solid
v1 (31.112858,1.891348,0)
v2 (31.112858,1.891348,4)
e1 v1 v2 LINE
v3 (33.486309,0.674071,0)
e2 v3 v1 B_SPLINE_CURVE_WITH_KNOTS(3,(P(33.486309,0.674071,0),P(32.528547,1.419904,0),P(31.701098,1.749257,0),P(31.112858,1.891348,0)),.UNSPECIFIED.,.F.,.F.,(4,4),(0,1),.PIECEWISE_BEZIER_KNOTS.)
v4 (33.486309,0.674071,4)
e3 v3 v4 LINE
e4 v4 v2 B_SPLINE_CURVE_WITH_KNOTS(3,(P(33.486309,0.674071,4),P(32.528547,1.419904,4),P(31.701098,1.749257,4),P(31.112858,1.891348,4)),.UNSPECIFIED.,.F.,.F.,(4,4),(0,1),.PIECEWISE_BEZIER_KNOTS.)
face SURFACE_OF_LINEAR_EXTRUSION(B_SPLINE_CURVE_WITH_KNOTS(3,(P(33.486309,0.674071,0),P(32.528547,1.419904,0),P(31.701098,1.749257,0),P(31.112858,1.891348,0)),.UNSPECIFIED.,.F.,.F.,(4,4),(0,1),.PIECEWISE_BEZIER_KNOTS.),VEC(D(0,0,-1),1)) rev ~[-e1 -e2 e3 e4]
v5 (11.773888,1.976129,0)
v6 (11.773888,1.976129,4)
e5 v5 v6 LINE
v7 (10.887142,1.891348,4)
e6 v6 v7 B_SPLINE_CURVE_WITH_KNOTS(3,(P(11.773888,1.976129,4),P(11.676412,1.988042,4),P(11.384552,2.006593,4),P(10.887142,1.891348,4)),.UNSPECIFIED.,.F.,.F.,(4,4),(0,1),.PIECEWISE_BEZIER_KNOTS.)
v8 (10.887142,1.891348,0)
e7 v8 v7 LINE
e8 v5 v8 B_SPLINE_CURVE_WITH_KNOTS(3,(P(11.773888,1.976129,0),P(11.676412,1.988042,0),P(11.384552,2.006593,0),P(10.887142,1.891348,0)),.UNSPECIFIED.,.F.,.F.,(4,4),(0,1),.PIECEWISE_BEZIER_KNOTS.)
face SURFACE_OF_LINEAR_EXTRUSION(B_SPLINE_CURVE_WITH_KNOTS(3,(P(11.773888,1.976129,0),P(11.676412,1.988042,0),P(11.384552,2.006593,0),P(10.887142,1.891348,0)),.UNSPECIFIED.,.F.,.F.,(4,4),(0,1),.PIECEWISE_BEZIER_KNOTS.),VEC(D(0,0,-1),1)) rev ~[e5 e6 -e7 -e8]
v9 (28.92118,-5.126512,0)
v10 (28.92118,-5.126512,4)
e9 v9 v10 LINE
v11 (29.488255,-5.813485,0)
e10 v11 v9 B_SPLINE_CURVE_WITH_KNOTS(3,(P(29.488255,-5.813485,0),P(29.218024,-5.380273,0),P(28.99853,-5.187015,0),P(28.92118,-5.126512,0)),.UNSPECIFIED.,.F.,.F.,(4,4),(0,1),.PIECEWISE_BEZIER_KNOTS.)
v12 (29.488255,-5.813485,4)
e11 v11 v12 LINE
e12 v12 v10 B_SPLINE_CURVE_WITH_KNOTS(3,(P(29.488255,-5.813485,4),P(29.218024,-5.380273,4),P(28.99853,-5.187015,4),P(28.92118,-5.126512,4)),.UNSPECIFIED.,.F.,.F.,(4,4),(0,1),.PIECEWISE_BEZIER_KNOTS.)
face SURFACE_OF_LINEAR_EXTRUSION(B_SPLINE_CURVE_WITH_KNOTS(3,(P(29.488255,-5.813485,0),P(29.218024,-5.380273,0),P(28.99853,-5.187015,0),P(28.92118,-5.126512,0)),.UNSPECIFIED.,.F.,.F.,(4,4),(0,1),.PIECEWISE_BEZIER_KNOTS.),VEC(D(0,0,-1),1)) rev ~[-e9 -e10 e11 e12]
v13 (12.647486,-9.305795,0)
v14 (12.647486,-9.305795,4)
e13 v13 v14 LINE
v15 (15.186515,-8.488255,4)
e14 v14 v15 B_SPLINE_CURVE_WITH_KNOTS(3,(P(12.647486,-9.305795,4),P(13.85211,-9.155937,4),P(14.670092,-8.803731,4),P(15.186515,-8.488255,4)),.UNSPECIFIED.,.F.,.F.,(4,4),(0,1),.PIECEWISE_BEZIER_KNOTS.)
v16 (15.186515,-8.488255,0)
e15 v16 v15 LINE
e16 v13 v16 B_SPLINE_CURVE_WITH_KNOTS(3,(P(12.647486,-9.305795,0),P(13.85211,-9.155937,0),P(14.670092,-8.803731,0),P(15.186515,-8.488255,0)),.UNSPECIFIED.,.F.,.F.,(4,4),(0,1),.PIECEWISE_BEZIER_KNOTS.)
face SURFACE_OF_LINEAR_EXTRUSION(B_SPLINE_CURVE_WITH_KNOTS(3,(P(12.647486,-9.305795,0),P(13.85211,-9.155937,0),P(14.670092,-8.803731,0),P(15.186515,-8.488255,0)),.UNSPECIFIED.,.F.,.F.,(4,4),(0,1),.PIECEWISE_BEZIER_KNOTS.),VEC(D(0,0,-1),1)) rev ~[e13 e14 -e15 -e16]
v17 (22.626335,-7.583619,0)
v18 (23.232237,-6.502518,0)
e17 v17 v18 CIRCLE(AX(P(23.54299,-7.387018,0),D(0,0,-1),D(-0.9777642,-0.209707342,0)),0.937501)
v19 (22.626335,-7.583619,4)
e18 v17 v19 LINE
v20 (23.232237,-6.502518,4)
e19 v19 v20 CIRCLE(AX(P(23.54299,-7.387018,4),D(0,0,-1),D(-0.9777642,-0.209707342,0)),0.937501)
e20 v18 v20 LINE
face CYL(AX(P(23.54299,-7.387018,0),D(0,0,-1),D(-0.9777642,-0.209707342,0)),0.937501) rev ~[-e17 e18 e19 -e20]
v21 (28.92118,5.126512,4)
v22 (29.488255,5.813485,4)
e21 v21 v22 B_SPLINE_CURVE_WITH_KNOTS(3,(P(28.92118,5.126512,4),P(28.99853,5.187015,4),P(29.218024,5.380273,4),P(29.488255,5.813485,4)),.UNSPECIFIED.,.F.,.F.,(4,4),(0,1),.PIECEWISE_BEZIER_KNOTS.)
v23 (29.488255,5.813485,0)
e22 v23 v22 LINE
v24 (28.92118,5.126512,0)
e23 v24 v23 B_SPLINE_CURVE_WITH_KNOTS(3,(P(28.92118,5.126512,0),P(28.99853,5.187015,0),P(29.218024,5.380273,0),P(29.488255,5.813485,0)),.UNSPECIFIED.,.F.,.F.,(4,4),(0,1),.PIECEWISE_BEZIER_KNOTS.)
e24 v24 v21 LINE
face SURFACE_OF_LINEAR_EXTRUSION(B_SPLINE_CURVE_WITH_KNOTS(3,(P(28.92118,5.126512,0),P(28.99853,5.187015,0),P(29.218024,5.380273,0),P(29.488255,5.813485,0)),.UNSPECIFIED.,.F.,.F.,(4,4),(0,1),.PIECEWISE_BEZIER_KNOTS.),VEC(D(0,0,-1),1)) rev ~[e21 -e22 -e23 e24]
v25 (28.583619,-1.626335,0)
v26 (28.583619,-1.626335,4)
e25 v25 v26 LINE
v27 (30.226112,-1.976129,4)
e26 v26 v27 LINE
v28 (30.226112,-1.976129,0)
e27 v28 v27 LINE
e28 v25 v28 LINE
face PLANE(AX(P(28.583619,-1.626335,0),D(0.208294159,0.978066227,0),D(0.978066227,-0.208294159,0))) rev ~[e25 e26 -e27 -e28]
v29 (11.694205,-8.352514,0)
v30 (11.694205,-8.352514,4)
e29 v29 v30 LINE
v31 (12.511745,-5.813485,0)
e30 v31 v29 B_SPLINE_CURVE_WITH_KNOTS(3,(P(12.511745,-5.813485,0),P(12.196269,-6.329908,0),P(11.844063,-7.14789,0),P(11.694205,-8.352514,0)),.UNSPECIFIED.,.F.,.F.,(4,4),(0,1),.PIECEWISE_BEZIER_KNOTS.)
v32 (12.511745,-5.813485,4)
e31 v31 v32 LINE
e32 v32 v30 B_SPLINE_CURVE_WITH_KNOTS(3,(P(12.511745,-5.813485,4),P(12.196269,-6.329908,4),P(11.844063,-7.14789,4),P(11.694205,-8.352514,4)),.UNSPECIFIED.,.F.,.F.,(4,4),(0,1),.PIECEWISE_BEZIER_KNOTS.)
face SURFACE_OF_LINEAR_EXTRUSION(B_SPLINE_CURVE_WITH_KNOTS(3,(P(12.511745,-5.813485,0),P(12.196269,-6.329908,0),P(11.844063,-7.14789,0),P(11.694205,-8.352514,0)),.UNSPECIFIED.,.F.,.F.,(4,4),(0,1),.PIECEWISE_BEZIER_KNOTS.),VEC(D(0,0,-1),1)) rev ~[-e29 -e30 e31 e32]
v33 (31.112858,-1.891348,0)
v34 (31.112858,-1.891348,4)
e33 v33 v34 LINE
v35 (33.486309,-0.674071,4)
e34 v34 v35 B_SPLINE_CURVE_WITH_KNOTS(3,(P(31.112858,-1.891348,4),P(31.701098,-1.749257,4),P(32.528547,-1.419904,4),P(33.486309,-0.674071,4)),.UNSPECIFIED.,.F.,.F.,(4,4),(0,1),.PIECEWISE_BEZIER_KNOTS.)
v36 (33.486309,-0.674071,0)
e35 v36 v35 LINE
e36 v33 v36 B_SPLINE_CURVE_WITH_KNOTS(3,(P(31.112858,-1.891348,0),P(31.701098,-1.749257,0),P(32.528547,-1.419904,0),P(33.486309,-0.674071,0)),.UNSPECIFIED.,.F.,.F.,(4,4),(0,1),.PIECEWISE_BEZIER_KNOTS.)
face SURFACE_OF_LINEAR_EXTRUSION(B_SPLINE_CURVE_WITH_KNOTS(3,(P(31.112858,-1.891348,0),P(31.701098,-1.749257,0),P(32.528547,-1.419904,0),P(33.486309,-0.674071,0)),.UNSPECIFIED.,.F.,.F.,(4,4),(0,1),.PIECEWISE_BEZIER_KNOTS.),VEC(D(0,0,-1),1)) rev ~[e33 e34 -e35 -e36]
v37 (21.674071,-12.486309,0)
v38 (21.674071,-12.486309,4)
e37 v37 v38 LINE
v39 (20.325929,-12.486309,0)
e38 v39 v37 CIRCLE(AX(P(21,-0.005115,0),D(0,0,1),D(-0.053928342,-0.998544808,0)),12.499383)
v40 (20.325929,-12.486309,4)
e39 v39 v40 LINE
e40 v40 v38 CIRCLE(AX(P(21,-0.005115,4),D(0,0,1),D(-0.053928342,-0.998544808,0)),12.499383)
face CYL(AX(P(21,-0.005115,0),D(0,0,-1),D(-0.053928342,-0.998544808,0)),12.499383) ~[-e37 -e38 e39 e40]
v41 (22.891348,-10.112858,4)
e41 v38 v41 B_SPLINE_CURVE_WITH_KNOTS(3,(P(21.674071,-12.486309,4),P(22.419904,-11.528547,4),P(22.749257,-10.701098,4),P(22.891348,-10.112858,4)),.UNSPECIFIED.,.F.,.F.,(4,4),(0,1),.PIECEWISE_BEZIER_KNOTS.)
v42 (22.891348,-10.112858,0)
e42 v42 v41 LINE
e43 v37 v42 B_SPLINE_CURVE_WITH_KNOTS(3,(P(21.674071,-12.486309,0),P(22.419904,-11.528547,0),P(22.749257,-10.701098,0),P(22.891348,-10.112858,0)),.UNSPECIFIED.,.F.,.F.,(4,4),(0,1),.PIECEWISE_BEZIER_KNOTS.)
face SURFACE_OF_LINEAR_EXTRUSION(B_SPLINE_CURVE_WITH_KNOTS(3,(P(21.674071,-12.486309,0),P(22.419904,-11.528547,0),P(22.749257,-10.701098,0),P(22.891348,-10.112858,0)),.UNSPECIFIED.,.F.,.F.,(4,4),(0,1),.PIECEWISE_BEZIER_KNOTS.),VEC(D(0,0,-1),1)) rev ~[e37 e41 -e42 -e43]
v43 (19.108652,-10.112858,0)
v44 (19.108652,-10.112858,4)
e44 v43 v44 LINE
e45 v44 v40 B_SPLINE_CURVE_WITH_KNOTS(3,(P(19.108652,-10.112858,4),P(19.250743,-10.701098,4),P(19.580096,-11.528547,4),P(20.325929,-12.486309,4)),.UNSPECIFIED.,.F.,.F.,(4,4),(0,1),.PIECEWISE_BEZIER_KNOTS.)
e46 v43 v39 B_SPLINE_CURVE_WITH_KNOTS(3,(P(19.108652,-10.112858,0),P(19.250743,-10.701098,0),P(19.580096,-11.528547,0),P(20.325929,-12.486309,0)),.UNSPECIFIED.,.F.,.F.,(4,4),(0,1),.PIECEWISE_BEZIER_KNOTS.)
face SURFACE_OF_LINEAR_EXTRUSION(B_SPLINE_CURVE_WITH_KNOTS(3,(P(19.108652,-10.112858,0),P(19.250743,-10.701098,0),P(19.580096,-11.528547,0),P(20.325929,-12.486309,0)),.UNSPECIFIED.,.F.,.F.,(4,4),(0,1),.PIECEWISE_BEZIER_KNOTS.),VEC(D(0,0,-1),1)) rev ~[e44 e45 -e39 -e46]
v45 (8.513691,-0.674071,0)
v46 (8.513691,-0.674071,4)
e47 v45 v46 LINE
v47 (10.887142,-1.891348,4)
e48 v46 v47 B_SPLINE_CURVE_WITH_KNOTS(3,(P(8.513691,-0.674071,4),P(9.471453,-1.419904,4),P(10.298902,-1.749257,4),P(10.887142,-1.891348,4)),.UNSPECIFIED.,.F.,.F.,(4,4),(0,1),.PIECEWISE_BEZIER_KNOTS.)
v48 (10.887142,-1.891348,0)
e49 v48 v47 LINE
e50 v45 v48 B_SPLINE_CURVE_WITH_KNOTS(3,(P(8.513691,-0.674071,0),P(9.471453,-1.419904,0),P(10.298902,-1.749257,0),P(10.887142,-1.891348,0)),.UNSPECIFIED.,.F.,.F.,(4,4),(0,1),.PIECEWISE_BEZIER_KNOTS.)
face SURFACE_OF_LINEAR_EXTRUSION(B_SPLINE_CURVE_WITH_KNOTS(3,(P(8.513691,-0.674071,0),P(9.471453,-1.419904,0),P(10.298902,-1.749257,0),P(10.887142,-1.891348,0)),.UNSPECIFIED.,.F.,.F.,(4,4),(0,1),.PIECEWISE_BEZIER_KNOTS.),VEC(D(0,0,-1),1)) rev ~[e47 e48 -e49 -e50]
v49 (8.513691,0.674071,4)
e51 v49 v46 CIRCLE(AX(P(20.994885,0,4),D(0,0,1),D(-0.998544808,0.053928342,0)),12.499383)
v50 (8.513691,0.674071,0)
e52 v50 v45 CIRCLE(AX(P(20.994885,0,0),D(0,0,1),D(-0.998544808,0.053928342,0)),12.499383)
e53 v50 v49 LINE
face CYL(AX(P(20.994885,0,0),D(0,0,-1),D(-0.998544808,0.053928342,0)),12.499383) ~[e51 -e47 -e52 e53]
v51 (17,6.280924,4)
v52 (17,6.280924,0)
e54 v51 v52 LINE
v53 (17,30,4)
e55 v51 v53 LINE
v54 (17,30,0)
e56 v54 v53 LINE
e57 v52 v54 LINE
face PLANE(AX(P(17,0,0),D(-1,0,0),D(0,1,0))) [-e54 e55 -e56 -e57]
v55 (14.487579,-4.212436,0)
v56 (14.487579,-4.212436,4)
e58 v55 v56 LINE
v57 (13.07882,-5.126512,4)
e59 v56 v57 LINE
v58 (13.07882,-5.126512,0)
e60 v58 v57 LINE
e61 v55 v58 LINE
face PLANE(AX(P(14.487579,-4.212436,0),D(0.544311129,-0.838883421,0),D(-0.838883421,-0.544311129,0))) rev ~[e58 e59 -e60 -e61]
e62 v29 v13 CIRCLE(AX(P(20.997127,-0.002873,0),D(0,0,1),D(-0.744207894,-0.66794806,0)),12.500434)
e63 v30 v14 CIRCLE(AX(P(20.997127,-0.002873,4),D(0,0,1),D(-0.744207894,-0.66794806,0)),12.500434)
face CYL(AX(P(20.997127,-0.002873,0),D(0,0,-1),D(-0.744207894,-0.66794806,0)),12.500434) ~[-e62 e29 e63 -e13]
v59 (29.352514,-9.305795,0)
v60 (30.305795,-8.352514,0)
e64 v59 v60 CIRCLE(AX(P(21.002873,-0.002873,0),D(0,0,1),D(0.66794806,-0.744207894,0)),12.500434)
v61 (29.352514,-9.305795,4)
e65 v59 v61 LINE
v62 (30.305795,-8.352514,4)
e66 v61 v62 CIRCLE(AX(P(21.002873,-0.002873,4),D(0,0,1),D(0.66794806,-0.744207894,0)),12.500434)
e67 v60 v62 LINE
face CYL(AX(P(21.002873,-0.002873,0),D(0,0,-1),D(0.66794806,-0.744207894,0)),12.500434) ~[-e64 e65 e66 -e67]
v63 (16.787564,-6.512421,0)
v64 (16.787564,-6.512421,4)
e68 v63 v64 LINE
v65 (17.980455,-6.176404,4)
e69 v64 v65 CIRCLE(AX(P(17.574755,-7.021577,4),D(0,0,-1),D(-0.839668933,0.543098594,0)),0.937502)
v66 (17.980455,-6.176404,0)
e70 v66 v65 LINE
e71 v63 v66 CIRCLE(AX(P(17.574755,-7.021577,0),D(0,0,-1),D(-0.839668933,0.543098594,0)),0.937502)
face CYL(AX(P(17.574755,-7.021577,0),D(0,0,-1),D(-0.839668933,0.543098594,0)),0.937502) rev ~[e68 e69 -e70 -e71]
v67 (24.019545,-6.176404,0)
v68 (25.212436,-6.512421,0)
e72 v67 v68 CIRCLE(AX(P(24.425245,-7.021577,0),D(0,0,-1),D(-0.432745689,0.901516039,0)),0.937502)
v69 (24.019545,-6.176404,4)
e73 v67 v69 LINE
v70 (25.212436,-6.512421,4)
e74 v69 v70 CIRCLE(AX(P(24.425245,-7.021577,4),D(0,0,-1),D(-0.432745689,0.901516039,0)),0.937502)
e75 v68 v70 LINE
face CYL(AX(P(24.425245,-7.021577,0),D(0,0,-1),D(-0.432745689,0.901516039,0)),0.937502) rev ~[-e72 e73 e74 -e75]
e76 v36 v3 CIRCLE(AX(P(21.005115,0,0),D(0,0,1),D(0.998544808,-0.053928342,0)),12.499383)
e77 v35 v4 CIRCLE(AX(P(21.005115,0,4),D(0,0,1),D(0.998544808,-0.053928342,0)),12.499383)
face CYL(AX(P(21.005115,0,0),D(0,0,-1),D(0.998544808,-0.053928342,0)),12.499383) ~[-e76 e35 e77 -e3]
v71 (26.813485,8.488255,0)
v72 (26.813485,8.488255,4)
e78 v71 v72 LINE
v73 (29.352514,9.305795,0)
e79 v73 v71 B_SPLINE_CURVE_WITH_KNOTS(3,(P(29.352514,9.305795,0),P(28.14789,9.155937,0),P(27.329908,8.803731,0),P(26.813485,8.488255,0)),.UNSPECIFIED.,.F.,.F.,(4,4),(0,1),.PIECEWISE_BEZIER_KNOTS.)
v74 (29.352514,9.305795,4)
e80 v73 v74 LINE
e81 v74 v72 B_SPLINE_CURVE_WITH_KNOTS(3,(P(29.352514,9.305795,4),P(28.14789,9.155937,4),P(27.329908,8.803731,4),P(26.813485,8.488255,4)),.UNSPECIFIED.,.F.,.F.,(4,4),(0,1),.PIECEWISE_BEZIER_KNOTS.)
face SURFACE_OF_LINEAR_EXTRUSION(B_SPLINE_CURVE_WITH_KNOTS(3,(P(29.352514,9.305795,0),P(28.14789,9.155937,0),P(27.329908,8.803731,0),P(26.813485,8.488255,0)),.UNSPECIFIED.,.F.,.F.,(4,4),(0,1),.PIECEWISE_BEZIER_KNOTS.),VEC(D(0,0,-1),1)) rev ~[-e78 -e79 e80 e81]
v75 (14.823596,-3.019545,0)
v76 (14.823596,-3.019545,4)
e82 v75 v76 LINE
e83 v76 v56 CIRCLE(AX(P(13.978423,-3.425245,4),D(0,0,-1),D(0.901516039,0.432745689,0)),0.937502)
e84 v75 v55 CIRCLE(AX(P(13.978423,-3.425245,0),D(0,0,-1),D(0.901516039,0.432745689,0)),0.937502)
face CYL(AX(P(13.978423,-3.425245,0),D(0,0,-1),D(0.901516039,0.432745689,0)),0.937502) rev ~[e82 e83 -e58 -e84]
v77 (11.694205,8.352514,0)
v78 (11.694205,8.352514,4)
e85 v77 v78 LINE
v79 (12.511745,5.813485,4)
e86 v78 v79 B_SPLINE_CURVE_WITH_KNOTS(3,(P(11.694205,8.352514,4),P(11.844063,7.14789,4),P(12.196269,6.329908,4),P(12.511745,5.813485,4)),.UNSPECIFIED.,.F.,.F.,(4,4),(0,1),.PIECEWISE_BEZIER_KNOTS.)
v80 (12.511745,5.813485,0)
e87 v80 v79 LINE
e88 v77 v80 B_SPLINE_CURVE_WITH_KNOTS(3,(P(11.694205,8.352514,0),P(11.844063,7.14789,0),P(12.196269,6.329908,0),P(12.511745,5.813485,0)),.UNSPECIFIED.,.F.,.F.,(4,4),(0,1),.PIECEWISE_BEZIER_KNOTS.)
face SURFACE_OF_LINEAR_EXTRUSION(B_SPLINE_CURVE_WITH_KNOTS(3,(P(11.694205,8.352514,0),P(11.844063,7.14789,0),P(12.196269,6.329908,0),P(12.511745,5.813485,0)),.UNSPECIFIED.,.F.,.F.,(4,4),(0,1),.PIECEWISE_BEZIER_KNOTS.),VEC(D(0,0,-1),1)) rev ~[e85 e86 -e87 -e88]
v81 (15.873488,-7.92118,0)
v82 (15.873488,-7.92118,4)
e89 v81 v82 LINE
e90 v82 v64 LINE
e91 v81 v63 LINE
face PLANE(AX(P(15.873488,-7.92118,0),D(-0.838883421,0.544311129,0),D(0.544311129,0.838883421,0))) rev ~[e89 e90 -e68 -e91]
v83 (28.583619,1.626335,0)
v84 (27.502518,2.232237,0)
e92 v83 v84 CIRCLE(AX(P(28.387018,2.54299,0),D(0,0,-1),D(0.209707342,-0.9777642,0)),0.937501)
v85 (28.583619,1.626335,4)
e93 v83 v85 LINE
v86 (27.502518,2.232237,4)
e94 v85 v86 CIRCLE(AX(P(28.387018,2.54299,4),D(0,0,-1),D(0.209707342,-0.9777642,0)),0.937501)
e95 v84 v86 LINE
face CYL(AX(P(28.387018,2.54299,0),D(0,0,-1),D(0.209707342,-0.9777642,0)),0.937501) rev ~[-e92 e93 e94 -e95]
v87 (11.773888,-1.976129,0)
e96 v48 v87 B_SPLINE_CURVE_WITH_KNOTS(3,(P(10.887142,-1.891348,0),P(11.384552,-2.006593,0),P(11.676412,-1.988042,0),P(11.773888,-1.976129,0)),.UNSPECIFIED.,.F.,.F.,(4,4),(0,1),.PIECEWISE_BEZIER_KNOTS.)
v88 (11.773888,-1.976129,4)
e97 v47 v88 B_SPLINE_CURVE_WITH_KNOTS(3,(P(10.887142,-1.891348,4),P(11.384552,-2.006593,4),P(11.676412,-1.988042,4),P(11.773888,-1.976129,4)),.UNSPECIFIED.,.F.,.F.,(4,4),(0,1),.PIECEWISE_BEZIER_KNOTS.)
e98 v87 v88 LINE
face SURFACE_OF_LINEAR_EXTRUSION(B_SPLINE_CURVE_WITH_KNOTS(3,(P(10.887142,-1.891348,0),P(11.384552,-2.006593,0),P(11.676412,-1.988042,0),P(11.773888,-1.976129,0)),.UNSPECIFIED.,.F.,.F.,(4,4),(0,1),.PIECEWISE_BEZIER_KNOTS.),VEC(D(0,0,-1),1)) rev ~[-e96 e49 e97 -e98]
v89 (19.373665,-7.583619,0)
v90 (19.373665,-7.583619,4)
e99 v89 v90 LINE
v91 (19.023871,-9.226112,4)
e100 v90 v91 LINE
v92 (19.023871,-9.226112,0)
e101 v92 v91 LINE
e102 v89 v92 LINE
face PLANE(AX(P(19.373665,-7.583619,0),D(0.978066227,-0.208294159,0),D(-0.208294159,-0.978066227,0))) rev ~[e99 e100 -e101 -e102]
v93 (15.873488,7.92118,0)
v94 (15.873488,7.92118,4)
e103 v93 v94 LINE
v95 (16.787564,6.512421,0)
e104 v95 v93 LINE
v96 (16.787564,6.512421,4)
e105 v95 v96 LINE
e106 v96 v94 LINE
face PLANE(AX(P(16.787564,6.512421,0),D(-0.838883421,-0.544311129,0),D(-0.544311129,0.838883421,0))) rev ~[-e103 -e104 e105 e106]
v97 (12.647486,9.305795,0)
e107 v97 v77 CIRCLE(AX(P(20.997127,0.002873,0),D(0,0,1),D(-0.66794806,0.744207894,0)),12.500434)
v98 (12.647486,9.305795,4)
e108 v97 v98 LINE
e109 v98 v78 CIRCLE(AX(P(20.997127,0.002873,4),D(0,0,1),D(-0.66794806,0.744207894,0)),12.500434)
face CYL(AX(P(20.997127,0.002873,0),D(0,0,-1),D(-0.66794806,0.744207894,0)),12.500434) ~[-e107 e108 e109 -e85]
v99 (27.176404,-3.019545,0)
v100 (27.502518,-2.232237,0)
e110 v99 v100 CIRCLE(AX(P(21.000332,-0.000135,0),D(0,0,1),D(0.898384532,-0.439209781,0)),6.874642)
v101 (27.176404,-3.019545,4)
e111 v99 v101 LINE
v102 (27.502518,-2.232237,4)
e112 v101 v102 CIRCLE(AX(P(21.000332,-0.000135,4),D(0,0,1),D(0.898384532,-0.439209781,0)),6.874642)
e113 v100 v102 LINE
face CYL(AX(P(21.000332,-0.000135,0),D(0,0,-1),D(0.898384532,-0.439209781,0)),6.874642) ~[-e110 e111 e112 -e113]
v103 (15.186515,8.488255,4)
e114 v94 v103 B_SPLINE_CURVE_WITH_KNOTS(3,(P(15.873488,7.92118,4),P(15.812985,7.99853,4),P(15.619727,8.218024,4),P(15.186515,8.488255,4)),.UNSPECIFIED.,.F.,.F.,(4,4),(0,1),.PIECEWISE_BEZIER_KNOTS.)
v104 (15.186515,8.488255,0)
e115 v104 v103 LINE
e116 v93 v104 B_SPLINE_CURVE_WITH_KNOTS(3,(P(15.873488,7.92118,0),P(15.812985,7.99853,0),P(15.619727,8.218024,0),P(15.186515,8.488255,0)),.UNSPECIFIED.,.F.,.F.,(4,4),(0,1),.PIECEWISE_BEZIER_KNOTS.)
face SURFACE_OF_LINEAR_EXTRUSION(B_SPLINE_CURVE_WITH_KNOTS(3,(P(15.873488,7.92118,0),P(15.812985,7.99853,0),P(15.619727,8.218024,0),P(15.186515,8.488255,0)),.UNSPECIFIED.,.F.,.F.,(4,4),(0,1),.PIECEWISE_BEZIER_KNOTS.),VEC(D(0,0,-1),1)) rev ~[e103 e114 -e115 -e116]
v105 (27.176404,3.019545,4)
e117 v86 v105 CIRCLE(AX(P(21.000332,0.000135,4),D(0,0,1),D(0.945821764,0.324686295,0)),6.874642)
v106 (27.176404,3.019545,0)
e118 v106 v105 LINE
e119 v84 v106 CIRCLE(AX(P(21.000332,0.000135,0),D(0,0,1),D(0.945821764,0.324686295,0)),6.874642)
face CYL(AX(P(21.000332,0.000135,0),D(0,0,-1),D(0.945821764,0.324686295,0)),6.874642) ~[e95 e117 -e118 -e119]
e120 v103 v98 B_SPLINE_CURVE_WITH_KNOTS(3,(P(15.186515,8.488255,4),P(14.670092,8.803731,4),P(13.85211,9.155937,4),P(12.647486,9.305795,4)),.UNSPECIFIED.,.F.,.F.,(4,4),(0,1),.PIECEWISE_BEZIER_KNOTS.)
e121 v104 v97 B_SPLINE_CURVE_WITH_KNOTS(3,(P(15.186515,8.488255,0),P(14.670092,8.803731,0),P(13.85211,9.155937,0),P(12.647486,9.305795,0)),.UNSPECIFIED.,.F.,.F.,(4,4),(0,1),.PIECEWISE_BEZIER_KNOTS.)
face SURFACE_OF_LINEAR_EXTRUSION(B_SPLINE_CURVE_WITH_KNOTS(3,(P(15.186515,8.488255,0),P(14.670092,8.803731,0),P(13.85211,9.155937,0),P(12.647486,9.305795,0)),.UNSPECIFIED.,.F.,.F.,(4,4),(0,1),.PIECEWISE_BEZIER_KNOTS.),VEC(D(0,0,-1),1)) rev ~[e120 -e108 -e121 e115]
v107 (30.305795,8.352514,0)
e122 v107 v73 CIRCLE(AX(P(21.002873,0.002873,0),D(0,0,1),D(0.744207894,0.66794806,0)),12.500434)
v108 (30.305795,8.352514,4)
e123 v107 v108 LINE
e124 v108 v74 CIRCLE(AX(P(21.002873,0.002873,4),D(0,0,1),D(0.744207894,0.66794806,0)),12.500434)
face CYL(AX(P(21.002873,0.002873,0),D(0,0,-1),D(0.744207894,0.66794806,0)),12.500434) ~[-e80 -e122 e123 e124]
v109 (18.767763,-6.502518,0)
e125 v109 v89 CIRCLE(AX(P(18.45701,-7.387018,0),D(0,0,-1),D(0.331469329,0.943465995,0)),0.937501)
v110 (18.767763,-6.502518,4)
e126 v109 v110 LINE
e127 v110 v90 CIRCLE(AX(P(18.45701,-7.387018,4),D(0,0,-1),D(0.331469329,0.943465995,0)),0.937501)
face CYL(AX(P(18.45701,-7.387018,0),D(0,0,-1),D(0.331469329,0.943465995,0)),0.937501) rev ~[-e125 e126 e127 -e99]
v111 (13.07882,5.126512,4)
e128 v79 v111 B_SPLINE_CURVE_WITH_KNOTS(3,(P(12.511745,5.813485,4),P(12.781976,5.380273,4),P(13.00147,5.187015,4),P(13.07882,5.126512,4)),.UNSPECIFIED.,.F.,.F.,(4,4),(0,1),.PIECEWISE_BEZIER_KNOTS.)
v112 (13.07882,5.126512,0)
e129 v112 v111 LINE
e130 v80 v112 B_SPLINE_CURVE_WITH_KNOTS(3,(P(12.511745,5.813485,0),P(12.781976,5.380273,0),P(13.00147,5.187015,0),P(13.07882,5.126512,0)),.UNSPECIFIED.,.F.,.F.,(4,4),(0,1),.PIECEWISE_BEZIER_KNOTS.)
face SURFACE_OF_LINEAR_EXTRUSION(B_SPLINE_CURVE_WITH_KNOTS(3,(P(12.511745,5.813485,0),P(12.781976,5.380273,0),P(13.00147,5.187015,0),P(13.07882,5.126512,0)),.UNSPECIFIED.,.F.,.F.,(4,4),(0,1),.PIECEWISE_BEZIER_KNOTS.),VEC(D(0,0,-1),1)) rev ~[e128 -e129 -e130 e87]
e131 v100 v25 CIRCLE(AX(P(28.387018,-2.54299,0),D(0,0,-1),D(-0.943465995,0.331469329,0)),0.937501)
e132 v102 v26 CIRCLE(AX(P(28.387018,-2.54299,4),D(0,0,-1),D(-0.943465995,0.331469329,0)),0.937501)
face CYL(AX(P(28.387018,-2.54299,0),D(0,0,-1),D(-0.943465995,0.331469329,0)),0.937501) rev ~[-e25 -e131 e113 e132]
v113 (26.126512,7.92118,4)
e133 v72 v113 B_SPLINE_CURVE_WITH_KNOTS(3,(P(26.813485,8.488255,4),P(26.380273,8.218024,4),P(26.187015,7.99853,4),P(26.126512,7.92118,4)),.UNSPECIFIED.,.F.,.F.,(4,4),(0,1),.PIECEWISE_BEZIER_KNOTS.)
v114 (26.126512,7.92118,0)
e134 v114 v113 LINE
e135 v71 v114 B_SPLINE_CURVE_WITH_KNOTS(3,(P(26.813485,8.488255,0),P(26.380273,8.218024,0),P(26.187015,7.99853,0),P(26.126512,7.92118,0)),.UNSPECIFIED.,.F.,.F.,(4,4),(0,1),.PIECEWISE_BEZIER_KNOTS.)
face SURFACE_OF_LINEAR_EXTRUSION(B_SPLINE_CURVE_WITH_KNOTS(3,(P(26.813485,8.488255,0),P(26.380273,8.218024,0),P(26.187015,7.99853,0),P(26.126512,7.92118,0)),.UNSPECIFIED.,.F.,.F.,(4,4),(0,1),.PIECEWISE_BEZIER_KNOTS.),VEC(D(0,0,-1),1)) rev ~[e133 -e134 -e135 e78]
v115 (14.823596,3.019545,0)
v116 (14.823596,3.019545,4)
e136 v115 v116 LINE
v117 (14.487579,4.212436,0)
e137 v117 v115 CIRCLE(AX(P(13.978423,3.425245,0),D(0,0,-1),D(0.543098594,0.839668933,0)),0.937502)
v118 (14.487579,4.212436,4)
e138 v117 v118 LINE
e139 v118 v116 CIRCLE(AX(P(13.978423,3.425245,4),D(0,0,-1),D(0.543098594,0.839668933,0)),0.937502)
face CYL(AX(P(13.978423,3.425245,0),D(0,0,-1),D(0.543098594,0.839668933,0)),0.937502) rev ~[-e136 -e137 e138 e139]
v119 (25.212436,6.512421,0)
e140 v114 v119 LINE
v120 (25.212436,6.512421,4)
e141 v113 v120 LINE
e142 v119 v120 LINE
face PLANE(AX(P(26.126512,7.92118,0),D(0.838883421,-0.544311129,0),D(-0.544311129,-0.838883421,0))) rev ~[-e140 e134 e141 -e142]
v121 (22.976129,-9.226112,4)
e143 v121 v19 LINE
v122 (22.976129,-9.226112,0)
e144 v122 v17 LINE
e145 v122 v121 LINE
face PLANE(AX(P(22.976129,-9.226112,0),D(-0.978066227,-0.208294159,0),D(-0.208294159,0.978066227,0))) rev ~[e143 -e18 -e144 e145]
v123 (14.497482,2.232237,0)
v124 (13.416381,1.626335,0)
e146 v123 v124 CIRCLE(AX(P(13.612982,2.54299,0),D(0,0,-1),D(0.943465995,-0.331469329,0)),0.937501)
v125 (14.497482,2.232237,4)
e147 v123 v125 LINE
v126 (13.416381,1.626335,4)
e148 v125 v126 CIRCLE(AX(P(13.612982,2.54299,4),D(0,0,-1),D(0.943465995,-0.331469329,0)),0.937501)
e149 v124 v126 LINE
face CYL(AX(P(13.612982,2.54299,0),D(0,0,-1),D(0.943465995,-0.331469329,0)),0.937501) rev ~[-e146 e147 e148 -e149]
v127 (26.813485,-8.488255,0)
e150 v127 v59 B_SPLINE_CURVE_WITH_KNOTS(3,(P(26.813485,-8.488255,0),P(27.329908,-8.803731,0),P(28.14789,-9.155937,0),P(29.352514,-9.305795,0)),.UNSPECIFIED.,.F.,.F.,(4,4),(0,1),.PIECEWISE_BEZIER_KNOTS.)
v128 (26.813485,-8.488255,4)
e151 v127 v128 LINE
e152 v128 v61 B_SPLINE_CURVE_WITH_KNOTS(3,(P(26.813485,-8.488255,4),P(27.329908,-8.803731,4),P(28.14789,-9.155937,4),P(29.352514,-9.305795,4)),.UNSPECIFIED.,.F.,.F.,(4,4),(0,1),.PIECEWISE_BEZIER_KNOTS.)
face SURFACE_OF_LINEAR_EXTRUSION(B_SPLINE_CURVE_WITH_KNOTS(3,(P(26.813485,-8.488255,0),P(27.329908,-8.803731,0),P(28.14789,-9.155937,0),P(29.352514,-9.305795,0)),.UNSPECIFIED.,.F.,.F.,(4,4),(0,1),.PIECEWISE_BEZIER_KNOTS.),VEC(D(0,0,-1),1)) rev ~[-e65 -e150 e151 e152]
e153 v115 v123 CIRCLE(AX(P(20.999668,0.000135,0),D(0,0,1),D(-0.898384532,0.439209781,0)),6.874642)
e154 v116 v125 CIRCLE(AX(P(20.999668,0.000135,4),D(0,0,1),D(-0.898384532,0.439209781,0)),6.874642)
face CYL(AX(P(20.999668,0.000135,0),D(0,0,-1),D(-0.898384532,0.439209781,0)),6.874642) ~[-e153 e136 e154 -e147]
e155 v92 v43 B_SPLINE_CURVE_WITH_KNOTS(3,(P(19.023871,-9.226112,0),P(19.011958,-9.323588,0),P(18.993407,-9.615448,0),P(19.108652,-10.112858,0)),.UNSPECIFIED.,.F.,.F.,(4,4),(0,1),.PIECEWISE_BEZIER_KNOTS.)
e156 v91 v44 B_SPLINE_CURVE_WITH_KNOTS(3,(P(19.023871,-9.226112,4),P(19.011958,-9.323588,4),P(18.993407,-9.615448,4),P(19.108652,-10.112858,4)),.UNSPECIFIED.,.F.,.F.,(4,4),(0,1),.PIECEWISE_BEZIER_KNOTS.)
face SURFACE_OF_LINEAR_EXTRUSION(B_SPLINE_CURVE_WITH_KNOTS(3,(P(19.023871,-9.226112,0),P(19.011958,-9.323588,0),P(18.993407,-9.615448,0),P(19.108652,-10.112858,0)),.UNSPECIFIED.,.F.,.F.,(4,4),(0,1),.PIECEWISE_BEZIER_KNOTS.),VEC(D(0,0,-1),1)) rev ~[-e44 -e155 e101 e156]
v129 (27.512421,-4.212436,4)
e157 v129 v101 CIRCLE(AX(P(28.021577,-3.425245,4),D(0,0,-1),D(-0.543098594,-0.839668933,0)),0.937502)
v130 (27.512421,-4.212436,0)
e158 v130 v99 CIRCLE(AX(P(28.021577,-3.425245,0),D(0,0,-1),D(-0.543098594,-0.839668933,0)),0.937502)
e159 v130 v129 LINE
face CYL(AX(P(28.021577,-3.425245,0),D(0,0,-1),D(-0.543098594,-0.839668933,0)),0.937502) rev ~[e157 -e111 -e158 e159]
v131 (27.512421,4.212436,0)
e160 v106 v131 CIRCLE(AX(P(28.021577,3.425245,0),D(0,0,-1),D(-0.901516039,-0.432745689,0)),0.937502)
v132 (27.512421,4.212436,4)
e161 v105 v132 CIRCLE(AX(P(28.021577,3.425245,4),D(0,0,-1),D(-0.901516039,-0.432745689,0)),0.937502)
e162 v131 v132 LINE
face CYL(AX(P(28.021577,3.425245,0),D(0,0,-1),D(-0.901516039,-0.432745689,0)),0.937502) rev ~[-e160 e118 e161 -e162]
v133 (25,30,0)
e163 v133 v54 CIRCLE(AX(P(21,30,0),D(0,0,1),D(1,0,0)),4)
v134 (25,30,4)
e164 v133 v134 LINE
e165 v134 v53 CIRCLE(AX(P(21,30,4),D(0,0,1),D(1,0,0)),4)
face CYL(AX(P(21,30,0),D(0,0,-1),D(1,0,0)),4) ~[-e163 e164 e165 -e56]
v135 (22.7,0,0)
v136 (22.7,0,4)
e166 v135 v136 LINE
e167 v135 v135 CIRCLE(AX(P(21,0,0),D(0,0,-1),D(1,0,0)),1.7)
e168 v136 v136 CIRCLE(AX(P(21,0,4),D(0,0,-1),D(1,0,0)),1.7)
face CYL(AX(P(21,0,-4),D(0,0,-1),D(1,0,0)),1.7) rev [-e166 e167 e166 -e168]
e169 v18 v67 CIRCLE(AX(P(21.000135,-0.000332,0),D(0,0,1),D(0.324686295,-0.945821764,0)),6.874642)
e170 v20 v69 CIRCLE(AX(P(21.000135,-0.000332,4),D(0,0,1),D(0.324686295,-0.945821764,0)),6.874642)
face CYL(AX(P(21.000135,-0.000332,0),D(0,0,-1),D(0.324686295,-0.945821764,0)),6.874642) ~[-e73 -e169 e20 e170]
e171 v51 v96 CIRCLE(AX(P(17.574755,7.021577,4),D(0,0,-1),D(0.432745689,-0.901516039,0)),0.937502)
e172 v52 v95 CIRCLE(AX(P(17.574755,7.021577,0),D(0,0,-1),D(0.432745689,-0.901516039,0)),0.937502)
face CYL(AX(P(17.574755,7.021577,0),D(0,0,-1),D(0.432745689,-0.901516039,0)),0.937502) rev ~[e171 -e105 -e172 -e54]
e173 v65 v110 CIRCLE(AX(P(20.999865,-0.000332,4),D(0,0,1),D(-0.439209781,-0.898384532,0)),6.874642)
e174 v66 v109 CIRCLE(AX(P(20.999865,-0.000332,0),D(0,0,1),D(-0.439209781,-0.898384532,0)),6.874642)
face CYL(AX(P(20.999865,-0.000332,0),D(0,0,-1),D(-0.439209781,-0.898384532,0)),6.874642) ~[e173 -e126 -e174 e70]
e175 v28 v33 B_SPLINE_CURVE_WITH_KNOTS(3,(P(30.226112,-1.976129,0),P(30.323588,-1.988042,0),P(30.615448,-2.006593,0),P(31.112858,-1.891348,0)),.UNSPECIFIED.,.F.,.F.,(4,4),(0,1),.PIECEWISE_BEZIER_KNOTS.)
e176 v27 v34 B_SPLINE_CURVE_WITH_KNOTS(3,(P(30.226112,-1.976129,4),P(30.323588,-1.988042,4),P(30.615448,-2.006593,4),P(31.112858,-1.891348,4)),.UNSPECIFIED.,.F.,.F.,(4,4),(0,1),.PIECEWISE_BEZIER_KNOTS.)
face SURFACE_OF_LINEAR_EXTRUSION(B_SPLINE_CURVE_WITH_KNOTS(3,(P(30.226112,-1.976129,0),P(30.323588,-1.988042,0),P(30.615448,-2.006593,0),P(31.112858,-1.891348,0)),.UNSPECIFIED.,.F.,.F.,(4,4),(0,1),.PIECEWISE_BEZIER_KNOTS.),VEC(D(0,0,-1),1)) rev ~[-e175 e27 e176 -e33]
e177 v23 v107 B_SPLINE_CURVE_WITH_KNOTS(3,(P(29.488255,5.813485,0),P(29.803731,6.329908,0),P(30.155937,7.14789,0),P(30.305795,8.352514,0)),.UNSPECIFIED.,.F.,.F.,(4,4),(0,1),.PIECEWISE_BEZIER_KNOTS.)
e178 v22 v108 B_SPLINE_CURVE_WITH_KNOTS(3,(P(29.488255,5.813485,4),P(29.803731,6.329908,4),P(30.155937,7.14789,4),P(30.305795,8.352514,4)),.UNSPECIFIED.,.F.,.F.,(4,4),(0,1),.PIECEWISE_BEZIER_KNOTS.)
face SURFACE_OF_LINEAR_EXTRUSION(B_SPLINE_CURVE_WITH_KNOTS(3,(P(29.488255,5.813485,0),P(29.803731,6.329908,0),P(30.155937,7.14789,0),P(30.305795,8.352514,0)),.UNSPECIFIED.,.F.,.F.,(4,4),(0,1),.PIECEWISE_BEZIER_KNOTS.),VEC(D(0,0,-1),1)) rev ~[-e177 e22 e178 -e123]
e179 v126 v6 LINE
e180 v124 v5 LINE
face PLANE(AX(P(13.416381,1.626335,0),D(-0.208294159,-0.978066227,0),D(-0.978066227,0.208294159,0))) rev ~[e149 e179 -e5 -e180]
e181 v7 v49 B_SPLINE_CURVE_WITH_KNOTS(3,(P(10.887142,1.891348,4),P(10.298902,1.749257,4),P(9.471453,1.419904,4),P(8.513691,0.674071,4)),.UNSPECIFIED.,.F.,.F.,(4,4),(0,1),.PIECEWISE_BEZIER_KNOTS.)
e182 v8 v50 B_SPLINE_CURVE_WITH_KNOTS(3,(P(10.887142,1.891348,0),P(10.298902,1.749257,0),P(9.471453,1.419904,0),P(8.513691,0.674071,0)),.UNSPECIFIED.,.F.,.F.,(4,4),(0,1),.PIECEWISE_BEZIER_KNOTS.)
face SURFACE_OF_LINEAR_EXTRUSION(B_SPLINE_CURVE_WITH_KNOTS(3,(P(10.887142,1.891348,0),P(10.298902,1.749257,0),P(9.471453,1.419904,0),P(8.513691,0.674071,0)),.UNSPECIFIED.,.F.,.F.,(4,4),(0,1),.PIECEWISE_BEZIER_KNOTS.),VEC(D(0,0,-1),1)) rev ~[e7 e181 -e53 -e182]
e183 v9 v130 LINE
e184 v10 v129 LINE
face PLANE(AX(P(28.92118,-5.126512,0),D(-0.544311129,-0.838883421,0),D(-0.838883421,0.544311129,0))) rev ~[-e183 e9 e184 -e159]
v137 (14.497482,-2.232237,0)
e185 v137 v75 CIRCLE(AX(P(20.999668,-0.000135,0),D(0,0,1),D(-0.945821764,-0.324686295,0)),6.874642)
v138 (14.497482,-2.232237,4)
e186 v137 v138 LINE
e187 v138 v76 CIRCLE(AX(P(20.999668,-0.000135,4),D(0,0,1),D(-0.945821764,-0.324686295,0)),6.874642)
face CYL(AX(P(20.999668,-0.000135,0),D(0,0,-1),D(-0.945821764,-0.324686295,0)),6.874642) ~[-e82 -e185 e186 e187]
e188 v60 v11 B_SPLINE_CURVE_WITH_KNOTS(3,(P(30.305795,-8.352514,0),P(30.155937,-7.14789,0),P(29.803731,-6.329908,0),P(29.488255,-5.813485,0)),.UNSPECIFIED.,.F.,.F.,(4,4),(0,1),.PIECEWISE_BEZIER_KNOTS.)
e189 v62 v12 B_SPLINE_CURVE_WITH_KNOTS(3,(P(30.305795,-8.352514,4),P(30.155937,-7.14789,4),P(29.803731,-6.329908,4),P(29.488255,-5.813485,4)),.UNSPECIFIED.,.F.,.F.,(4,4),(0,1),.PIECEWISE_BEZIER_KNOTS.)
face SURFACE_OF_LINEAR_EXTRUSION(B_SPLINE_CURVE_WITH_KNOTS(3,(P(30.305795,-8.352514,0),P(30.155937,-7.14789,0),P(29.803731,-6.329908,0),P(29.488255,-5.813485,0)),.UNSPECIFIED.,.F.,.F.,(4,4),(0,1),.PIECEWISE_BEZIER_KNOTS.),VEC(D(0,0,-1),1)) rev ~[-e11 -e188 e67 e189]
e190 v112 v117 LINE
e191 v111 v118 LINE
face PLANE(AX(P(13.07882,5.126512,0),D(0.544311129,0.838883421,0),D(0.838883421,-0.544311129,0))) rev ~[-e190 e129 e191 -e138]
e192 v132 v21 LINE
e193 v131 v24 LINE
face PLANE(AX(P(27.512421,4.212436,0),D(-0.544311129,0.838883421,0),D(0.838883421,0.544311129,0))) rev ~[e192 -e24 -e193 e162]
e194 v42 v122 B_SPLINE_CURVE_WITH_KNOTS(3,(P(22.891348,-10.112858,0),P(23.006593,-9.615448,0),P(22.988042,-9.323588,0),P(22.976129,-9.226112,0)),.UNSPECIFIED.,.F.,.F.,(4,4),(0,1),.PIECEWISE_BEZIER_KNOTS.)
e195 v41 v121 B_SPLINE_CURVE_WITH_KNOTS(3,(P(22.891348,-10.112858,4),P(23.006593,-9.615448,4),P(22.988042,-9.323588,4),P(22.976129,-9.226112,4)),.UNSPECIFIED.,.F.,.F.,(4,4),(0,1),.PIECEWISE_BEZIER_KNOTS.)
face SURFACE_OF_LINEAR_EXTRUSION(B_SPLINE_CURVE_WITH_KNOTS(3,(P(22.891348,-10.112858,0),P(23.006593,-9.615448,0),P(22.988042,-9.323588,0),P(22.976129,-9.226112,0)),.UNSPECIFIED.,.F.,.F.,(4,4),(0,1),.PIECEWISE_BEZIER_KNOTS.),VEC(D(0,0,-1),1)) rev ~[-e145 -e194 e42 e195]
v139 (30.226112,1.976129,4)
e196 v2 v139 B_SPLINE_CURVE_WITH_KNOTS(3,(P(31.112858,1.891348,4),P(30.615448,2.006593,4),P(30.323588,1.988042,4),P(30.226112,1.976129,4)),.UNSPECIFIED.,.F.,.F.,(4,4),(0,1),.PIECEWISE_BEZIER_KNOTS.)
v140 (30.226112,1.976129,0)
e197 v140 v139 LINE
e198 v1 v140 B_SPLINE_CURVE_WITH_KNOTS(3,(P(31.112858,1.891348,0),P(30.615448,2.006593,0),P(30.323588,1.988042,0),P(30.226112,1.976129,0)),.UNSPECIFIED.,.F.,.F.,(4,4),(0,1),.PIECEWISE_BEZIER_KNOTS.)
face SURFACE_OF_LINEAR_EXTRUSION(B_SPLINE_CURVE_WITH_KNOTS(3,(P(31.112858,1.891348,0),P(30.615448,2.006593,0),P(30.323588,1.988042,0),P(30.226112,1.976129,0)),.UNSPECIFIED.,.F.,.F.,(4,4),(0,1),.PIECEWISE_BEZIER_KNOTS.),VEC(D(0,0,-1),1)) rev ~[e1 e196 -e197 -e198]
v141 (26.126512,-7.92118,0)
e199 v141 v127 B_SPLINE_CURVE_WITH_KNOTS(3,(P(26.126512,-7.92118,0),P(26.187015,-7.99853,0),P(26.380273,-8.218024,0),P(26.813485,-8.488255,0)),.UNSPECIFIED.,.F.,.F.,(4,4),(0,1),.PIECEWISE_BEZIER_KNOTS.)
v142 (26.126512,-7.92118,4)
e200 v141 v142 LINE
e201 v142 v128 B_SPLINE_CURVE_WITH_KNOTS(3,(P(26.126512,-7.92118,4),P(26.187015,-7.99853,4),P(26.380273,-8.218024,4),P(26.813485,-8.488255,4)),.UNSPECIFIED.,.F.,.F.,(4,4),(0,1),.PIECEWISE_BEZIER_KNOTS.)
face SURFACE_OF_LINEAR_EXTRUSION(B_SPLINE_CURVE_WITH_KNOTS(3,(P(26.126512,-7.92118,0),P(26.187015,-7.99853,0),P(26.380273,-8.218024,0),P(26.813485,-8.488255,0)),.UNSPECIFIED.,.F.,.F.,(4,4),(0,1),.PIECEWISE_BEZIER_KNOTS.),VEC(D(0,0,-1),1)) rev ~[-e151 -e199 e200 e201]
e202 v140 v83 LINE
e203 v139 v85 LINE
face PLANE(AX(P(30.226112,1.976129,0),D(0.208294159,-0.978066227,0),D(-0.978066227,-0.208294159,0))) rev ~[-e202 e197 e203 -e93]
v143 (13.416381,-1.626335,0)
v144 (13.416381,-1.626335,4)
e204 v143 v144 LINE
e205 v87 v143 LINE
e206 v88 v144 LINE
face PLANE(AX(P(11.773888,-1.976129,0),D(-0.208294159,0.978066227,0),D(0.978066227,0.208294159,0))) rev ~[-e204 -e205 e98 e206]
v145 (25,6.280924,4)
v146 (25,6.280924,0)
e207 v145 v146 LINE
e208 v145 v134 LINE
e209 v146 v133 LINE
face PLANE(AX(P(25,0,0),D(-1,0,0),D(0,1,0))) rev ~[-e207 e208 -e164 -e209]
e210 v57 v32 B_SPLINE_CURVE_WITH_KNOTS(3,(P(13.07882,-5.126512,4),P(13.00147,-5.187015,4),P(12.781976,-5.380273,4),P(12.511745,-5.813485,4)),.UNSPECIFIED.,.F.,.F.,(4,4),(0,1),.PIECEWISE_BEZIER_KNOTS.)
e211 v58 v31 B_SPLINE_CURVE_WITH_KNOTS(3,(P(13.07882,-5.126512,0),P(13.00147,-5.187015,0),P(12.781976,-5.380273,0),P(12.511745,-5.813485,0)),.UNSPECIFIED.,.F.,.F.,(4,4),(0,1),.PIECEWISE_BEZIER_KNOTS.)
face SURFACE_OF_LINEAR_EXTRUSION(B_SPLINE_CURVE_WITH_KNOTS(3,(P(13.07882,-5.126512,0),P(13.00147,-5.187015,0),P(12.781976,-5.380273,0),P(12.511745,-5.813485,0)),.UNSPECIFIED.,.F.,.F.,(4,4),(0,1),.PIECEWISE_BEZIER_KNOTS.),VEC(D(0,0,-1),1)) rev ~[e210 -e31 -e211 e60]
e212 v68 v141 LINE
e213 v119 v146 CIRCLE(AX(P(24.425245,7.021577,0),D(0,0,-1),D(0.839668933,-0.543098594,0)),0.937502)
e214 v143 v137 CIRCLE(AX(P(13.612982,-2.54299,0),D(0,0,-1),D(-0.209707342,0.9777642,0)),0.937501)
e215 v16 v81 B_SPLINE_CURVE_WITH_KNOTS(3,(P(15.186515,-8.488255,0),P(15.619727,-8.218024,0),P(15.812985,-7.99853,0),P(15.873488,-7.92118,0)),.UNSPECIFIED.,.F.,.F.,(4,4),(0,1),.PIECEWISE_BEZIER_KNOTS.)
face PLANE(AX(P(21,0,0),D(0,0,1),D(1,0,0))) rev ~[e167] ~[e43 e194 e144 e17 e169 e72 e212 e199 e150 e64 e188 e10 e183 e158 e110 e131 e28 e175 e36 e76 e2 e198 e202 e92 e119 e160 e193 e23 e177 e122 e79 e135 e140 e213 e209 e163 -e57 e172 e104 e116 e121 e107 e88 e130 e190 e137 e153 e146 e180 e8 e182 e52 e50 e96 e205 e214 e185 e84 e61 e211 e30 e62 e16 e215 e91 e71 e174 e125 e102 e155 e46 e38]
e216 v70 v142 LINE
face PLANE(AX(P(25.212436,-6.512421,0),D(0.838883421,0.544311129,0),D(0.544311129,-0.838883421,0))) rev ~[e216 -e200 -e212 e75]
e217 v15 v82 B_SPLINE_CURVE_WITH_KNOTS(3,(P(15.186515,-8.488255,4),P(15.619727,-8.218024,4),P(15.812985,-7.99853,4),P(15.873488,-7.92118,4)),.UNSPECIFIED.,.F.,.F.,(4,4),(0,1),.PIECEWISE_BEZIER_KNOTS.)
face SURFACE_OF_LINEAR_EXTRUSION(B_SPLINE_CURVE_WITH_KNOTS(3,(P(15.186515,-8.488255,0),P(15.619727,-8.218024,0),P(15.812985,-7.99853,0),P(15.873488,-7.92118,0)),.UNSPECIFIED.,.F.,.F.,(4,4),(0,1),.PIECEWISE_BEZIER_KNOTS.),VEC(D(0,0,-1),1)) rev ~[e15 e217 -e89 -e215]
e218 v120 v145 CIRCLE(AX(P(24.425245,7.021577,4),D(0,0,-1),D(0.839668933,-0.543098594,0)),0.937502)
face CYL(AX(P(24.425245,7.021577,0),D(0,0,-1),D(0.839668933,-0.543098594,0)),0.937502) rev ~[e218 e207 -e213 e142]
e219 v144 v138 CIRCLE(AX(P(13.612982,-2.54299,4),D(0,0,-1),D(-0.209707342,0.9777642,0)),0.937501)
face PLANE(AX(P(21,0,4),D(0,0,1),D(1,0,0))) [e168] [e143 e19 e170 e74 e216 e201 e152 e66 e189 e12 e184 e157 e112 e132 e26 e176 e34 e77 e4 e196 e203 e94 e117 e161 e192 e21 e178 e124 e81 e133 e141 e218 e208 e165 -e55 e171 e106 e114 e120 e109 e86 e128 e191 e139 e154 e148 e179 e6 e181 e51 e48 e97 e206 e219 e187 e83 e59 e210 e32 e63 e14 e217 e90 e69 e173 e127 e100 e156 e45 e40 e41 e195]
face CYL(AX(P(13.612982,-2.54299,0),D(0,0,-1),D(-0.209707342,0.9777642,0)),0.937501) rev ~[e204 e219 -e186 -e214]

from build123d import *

# Parameters (mm, degrees)
CYLINDER004_R     = 1.7
CYLINDER004_DEPTH = 10
EXTRUDE006_DEPTH  = 4
EXTRUDE008_DEPTH  = 4


with BuildPart() as cylinder004:
    # Cylinder004 → Cylinder004 (new body)
    with BuildSketch(Plane(origin=(21, 0, -4), x_dir=(1, 0, 0), z_dir=(0, 0, 1))):
        Circle(CYLINDER004_R)
    extrude(amount=CYLINDER004_DEPTH)


with BuildPart() as extrude006:
    # InvoluteGear002 → Extrude006 (new body)
    with BuildSketch(Plane.XY):
        with BuildLine():
            Line((7.583619, -1.626335), (9.226112, -1.976129))
            add(Edge.make_bspline(
                [(9.226112, -1.976129), (9.323588, -1.988042), (9.615448, -2.006593), (10.112858, -1.891348)],
                knots=[0, 0, 0, 0, 1, 1, 1, 1], degree=3))
            add(Edge.make_bspline(
                [(10.112858, -1.891348), (10.701098, -1.749257), (11.528547, -1.419904), (12.486309, -0.674071)],
                knots=[0, 0, 0, 0, 1, 1, 1, 1], degree=3))
            ThreePointArc((12.486309, -0.674071), (12.504498, 0), (12.486309, 0.674071))
            add(Edge.make_bspline(
                [(12.486309, 0.674071), (11.528547, 1.419904), (10.701098, 1.749257), (10.112858, 1.891348)],
                knots=[0, 0, 0, 0, 1, 1, 1, 1], degree=3))
            add(Edge.make_bspline(
                [(10.112858, 1.891348), (9.615448, 2.006593), (9.323588, 1.988042), (9.226112, 1.976129)],
                knots=[0, 0, 0, 0, 1, 1, 1, 1], degree=3))
            Line((9.226112, 1.976129), (7.583619, 1.626335))
            ThreePointArc((7.583619, 1.626335), (6.928673, 1.725171), (6.502518, 2.232237))
            ThreePointArc((6.502518, 2.232237), (6.351672, 2.630949), (6.176404, 3.019545))
            ThreePointArc((6.176404, 3.019545), (6.119192, 3.679432), (6.512421, 4.212436))
            Line((6.512421, 4.212436), (7.92118, 5.126512))
            add(Edge.make_bspline(
                [(7.92118, 5.126512), (7.99853, 5.187015), (8.218024, 5.380273), (8.488255, 5.813485)],
                knots=[0, 0, 0, 0, 1, 1, 1, 1], degree=3))
            add(Edge.make_bspline(
                [(8.488255, 5.813485), (8.803731, 6.329908), (9.155937, 7.14789), (9.305795, 8.352514)],
                knots=[0, 0, 0, 0, 1, 1, 1, 1], degree=3))
            ThreePointArc((9.305795, 8.352514), (8.842015, 8.842015), (8.352514, 9.305795))
            add(Edge.make_bspline(
                [(8.352514, 9.305795), (7.14789, 9.155937), (6.329908, 8.803731), (5.813485, 8.488255)],
                knots=[0, 0, 0, 0, 1, 1, 1, 1], degree=3))
            add(Edge.make_bspline(
                [(5.813485, 8.488255), (5.380273, 8.218024), (5.187015, 7.99853), (5.126512, 7.92118)],
                knots=[0, 0, 0, 0, 1, 1, 1, 1], degree=3))
            Line((5.126512, 7.92118), (4.212436, 6.512421))
            ThreePointArc((4.212436, 6.512421), (3.679432, 6.119192), (3.019545, 6.176404))
            ThreePointArc((3.019545, 6.176404), (2.630949, 6.351672), (2.232237, 6.502518))
            ThreePointArc((2.232237, 6.502518), (1.725171, 6.928673), (1.626335, 7.583619))
            Line((1.626335, 7.583619), (1.976129, 9.226112))
            add(Edge.make_bspline(
                [(1.976129, 9.226112), (1.988042, 9.323588), (2.006593, 9.615448), (1.891348, 10.112858)],
                knots=[0, 0, 0, 0, 1, 1, 1, 1], degree=3))
            add(Edge.make_bspline(
                [(1.891348, 10.112858), (1.749257, 10.701098), (1.419904, 11.528547), (0.674071, 12.486309)],
                knots=[0, 0, 0, 0, 1, 1, 1, 1], degree=3))
            ThreePointArc((0.674071, 12.486309), (0, 12.504498), (-0.674071, 12.486309))
            add(Edge.make_bspline(
                [(-0.674071, 12.486309), (-1.419904, 11.528547), (-1.749257, 10.701098), (-1.891348, 10.112858)],
                knots=[0, 0, 0, 0, 1, 1, 1, 1], degree=3))
            add(Edge.make_bspline(
                [(-1.891348, 10.112858), (-2.006593, 9.615448), (-1.988042, 9.323588), (-1.976129, 9.226112)],
                knots=[0, 0, 0, 0, 1, 1, 1, 1], degree=3))
            Line((-1.976129, 9.226112), (-1.626335, 7.583619))
            ThreePointArc((-1.626335, 7.583619), (-1.725171, 6.928673), (-2.232237, 6.502518))
            ThreePointArc((-2.232237, 6.502518), (-2.630949, 6.351672), (-3.019545, 6.176404))
            ThreePointArc((-3.019545, 6.176404), (-3.679432, 6.119192), (-4.212436, 6.512421))
            Line((-4.212436, 6.512421), (-5.126512, 7.92118))
            add(Edge.make_bspline(
                [(-5.126512, 7.92118), (-5.187015, 7.99853), (-5.380273, 8.218024), (-5.813485, 8.488255)],
                knots=[0, 0, 0, 0, 1, 1, 1, 1], degree=3))
            add(Edge.make_bspline(
                [(-5.813485, 8.488255), (-6.329908, 8.803731), (-7.14789, 9.155937), (-8.352514, 9.305795)],
                knots=[0, 0, 0, 0, 1, 1, 1, 1], degree=3))
            ThreePointArc((-8.352514, 9.305795), (-8.842015, 8.842015), (-9.305795, 8.352514))
            add(Edge.make_bspline(
                [(-9.305795, 8.352514), (-9.155937, 7.14789), (-8.803731, 6.329908), (-8.488255, 5.813485)],
                knots=[0, 0, 0, 0, 1, 1, 1, 1], degree=3))
            add(Edge.make_bspline(
                [(-8.488255, 5.813485), (-8.218024, 5.380273), (-7.99853, 5.187015), (-7.92118, 5.126512)],
                knots=[0, 0, 0, 0, 1, 1, 1, 1], degree=3))
            Line((-7.92118, 5.126512), (-6.512421, 4.212436))
            ThreePointArc((-6.512421, 4.212436), (-6.119192, 3.679432), (-6.176404, 3.019545))
            ThreePointArc((-6.176404, 3.019545), (-6.351672, 2.630949), (-6.502518, 2.232237))
            ThreePointArc((-6.502518, 2.232237), (-6.928673, 1.725171), (-7.583619, 1.626335))
            Line((-7.583619, 1.626335), (-9.226112, 1.976129))
            add(Edge.make_bspline(
                [(-9.226112, 1.976129), (-9.323588, 1.988042), (-9.615448, 2.006593), (-10.112858, 1.891348)],
                knots=[0, 0, 0, 0, 1, 1, 1, 1], degree=3))
            add(Edge.make_bspline(
                [(-10.112858, 1.891348), (-10.701098, 1.749257), (-11.528547, 1.419904), (-12.486309, 0.674071)],
                knots=[0, 0, 0, 0, 1, 1, 1, 1], degree=3))
            ThreePointArc((-12.486309, 0.674071), (-12.504498, 0), (-12.486309, -0.674071))
            add(Edge.make_bspline(
                [(-12.486309, -0.674071), (-11.528547, -1.419904), (-10.701098, -1.749257), (-10.112858, -1.891348)],
                knots=[0, 0, 0, 0, 1, 1, 1, 1], degree=3))
            add(Edge.make_bspline(
                [(-10.112858, -1.891348), (-9.615448, -2.006593), (-9.323588, -1.988042), (-9.226112, -1.976129)],
                knots=[0, 0, 0, 0, 1, 1, 1, 1], degree=3))
            Line((-9.226112, -1.976129), (-7.583619, -1.626335))
            ThreePointArc((-7.583619, -1.626335), (-6.928673, -1.725171), (-6.502518, -2.232237))
            ThreePointArc((-6.502518, -2.232237), (-6.351672, -2.630949), (-6.176404, -3.019545))
            ThreePointArc((-6.176404, -3.019545), (-6.119192, -3.679432), (-6.512421, -4.212436))
            Line((-6.512421, -4.212436), (-7.92118, -5.126512))
            add(Edge.make_bspline(
                [(-7.92118, -5.126512), (-7.99853, -5.187015), (-8.218024, -5.380273), (-8.488255, -5.813485)],
                knots=[0, 0, 0, 0, 1, 1, 1, 1], degree=3))
            add(Edge.make_bspline(
                [(-8.488255, -5.813485), (-8.803731, -6.329908), (-9.155937, -7.14789), (-9.305795, -8.352514)],
                knots=[0, 0, 0, 0, 1, 1, 1, 1], degree=3))
            ThreePointArc((-9.305795, -8.352514), (-8.842015, -8.842015), (-8.352514, -9.305795))
            add(Edge.make_bspline(
                [(-8.352514, -9.305795), (-7.14789, -9.155937), (-6.329908, -8.803731), (-5.813485, -8.488255)],
                knots=[0, 0, 0, 0, 1, 1, 1, 1], degree=3))
            add(Edge.make_bspline(
                [(-5.813485, -8.488255), (-5.380273, -8.218024), (-5.187015, -7.99853), (-5.126512, -7.92118)],
                knots=[0, 0, 0, 0, 1, 1, 1, 1], degree=3))
            Line((-5.126512, -7.92118), (-4.212436, -6.512421))
            ThreePointArc((-4.212436, -6.512421), (-3.679432, -6.119192), (-3.019545, -6.176404))
            ThreePointArc((-3.019545, -6.176404), (-2.630949, -6.351672), (-2.232237, -6.502518))
            ThreePointArc((-2.232237, -6.502518), (-1.725171, -6.928673), (-1.626335, -7.583619))
            Line((-1.626335, -7.583619), (-1.976129, -9.226112))
            add(Edge.make_bspline(
                [(-1.976129, -9.226112), (-1.988042, -9.323588), (-2.006593, -9.615448), (-1.891348, -10.112858)],
                knots=[0, 0, 0, 0, 1, 1, 1, 1], degree=3))
            add(Edge.make_bspline(
                [(-1.891348, -10.112858), (-1.749257, -10.701098), (-1.419904, -11.528547), (-0.674071, -12.486309)],
                knots=[0, 0, 0, 0, 1, 1, 1, 1], degree=3))
            ThreePointArc((-0.674071, -12.486309), (0, -12.504498), (0.674071, -12.486309))
            add(Edge.make_bspline(
                [(0.674071, -12.486309), (1.419904, -11.528547), (1.749257, -10.701098), (1.891348, -10.112858)],
                knots=[0, 0, 0, 0, 1, 1, 1, 1], degree=3))
            add(Edge.make_bspline(
                [(1.891348, -10.112858), (2.006593, -9.615448), (1.988042, -9.323588), (1.976129, -9.226112)],
                knots=[0, 0, 0, 0, 1, 1, 1, 1], degree=3))
            Line((1.976129, -9.226112), (1.626335, -7.583619))
            ThreePointArc((1.626335, -7.583619), (1.725171, -6.928673), (2.232237, -6.502518))
            ThreePointArc((2.232237, -6.502518), (2.630949, -6.351672), (3.019545, -6.176404))
            ThreePointArc((3.019545, -6.176404), (3.679432, -6.119192), (4.212436, -6.512421))
            Line((4.212436, -6.512421), (5.126512, -7.92118))
            add(Edge.make_bspline(
                [(5.126512, -7.92118), (5.187015, -7.99853), (5.380273, -8.218024), (5.813485, -8.488255)],
                knots=[0, 0, 0, 0, 1, 1, 1, 1], degree=3))
            add(Edge.make_bspline(
                [(5.813485, -8.488255), (6.329908, -8.803731), (7.14789, -9.155937), (8.352514, -9.305795)],
                knots=[0, 0, 0, 0, 1, 1, 1, 1], degree=3))
            ThreePointArc((8.352514, -9.305795), (8.842015, -8.842015), (9.305795, -8.352514))
            add(Edge.make_bspline(
                [(9.305795, -8.352514), (9.155937, -7.14789), (8.803731, -6.329908), (8.488255, -5.813485)],
                knots=[0, 0, 0, 0, 1, 1, 1, 1], degree=3))
            add(Edge.make_bspline(
                [(8.488255, -5.813485), (8.218024, -5.380273), (7.99853, -5.187015), (7.92118, -5.126512)],
                knots=[0, 0, 0, 0, 1, 1, 1, 1], degree=3))
            Line((7.92118, -5.126512), (6.512421, -4.212436))
            ThreePointArc((6.512421, -4.212436), (6.119192, -3.679432), (6.176404, -3.019545))
            ThreePointArc((6.176404, -3.019545), (6.351672, -2.630949), (6.502518, -2.232237))
            ThreePointArc((6.502518, -2.232237), (6.928673, -1.725171), (7.583619, -1.626335))
        make_face()
    extrude(amount=EXTRUDE006_DEPTH)


with BuildPart() as extrude006_1:
    # Extrude006 placement: moved
    add(extrude006.part.moved(Location((21, 0, 0))))


with BuildPart() as cut003:
    # Sketch003 → Extrude008 (new body)
    with BuildSketch(Plane.XY):
        with BuildLine():
            ThreePointArc((-4, 0), (0, -4), (4, 0))
            Line((4, 0), (4, 30))
            ThreePointArc((4, 30), (0, 34), (-4, 30))
            Line((-4, 0), (-4, 30))
        make_face()
    extrude(amount=EXTRUDE008_DEPTH)


with BuildPart() as cut003_1:
    # Extrude008 placement: moved
    add(cut003.part.moved(Location((21, 0, 0))))

    # Fusion001: union Extrude006
    add(extrude006_1.part)

    # Cut003: cut Cylinder004
    add(cylinder004.part, mode=Mode.SUBTRACT)


solid = cut003_1.part
